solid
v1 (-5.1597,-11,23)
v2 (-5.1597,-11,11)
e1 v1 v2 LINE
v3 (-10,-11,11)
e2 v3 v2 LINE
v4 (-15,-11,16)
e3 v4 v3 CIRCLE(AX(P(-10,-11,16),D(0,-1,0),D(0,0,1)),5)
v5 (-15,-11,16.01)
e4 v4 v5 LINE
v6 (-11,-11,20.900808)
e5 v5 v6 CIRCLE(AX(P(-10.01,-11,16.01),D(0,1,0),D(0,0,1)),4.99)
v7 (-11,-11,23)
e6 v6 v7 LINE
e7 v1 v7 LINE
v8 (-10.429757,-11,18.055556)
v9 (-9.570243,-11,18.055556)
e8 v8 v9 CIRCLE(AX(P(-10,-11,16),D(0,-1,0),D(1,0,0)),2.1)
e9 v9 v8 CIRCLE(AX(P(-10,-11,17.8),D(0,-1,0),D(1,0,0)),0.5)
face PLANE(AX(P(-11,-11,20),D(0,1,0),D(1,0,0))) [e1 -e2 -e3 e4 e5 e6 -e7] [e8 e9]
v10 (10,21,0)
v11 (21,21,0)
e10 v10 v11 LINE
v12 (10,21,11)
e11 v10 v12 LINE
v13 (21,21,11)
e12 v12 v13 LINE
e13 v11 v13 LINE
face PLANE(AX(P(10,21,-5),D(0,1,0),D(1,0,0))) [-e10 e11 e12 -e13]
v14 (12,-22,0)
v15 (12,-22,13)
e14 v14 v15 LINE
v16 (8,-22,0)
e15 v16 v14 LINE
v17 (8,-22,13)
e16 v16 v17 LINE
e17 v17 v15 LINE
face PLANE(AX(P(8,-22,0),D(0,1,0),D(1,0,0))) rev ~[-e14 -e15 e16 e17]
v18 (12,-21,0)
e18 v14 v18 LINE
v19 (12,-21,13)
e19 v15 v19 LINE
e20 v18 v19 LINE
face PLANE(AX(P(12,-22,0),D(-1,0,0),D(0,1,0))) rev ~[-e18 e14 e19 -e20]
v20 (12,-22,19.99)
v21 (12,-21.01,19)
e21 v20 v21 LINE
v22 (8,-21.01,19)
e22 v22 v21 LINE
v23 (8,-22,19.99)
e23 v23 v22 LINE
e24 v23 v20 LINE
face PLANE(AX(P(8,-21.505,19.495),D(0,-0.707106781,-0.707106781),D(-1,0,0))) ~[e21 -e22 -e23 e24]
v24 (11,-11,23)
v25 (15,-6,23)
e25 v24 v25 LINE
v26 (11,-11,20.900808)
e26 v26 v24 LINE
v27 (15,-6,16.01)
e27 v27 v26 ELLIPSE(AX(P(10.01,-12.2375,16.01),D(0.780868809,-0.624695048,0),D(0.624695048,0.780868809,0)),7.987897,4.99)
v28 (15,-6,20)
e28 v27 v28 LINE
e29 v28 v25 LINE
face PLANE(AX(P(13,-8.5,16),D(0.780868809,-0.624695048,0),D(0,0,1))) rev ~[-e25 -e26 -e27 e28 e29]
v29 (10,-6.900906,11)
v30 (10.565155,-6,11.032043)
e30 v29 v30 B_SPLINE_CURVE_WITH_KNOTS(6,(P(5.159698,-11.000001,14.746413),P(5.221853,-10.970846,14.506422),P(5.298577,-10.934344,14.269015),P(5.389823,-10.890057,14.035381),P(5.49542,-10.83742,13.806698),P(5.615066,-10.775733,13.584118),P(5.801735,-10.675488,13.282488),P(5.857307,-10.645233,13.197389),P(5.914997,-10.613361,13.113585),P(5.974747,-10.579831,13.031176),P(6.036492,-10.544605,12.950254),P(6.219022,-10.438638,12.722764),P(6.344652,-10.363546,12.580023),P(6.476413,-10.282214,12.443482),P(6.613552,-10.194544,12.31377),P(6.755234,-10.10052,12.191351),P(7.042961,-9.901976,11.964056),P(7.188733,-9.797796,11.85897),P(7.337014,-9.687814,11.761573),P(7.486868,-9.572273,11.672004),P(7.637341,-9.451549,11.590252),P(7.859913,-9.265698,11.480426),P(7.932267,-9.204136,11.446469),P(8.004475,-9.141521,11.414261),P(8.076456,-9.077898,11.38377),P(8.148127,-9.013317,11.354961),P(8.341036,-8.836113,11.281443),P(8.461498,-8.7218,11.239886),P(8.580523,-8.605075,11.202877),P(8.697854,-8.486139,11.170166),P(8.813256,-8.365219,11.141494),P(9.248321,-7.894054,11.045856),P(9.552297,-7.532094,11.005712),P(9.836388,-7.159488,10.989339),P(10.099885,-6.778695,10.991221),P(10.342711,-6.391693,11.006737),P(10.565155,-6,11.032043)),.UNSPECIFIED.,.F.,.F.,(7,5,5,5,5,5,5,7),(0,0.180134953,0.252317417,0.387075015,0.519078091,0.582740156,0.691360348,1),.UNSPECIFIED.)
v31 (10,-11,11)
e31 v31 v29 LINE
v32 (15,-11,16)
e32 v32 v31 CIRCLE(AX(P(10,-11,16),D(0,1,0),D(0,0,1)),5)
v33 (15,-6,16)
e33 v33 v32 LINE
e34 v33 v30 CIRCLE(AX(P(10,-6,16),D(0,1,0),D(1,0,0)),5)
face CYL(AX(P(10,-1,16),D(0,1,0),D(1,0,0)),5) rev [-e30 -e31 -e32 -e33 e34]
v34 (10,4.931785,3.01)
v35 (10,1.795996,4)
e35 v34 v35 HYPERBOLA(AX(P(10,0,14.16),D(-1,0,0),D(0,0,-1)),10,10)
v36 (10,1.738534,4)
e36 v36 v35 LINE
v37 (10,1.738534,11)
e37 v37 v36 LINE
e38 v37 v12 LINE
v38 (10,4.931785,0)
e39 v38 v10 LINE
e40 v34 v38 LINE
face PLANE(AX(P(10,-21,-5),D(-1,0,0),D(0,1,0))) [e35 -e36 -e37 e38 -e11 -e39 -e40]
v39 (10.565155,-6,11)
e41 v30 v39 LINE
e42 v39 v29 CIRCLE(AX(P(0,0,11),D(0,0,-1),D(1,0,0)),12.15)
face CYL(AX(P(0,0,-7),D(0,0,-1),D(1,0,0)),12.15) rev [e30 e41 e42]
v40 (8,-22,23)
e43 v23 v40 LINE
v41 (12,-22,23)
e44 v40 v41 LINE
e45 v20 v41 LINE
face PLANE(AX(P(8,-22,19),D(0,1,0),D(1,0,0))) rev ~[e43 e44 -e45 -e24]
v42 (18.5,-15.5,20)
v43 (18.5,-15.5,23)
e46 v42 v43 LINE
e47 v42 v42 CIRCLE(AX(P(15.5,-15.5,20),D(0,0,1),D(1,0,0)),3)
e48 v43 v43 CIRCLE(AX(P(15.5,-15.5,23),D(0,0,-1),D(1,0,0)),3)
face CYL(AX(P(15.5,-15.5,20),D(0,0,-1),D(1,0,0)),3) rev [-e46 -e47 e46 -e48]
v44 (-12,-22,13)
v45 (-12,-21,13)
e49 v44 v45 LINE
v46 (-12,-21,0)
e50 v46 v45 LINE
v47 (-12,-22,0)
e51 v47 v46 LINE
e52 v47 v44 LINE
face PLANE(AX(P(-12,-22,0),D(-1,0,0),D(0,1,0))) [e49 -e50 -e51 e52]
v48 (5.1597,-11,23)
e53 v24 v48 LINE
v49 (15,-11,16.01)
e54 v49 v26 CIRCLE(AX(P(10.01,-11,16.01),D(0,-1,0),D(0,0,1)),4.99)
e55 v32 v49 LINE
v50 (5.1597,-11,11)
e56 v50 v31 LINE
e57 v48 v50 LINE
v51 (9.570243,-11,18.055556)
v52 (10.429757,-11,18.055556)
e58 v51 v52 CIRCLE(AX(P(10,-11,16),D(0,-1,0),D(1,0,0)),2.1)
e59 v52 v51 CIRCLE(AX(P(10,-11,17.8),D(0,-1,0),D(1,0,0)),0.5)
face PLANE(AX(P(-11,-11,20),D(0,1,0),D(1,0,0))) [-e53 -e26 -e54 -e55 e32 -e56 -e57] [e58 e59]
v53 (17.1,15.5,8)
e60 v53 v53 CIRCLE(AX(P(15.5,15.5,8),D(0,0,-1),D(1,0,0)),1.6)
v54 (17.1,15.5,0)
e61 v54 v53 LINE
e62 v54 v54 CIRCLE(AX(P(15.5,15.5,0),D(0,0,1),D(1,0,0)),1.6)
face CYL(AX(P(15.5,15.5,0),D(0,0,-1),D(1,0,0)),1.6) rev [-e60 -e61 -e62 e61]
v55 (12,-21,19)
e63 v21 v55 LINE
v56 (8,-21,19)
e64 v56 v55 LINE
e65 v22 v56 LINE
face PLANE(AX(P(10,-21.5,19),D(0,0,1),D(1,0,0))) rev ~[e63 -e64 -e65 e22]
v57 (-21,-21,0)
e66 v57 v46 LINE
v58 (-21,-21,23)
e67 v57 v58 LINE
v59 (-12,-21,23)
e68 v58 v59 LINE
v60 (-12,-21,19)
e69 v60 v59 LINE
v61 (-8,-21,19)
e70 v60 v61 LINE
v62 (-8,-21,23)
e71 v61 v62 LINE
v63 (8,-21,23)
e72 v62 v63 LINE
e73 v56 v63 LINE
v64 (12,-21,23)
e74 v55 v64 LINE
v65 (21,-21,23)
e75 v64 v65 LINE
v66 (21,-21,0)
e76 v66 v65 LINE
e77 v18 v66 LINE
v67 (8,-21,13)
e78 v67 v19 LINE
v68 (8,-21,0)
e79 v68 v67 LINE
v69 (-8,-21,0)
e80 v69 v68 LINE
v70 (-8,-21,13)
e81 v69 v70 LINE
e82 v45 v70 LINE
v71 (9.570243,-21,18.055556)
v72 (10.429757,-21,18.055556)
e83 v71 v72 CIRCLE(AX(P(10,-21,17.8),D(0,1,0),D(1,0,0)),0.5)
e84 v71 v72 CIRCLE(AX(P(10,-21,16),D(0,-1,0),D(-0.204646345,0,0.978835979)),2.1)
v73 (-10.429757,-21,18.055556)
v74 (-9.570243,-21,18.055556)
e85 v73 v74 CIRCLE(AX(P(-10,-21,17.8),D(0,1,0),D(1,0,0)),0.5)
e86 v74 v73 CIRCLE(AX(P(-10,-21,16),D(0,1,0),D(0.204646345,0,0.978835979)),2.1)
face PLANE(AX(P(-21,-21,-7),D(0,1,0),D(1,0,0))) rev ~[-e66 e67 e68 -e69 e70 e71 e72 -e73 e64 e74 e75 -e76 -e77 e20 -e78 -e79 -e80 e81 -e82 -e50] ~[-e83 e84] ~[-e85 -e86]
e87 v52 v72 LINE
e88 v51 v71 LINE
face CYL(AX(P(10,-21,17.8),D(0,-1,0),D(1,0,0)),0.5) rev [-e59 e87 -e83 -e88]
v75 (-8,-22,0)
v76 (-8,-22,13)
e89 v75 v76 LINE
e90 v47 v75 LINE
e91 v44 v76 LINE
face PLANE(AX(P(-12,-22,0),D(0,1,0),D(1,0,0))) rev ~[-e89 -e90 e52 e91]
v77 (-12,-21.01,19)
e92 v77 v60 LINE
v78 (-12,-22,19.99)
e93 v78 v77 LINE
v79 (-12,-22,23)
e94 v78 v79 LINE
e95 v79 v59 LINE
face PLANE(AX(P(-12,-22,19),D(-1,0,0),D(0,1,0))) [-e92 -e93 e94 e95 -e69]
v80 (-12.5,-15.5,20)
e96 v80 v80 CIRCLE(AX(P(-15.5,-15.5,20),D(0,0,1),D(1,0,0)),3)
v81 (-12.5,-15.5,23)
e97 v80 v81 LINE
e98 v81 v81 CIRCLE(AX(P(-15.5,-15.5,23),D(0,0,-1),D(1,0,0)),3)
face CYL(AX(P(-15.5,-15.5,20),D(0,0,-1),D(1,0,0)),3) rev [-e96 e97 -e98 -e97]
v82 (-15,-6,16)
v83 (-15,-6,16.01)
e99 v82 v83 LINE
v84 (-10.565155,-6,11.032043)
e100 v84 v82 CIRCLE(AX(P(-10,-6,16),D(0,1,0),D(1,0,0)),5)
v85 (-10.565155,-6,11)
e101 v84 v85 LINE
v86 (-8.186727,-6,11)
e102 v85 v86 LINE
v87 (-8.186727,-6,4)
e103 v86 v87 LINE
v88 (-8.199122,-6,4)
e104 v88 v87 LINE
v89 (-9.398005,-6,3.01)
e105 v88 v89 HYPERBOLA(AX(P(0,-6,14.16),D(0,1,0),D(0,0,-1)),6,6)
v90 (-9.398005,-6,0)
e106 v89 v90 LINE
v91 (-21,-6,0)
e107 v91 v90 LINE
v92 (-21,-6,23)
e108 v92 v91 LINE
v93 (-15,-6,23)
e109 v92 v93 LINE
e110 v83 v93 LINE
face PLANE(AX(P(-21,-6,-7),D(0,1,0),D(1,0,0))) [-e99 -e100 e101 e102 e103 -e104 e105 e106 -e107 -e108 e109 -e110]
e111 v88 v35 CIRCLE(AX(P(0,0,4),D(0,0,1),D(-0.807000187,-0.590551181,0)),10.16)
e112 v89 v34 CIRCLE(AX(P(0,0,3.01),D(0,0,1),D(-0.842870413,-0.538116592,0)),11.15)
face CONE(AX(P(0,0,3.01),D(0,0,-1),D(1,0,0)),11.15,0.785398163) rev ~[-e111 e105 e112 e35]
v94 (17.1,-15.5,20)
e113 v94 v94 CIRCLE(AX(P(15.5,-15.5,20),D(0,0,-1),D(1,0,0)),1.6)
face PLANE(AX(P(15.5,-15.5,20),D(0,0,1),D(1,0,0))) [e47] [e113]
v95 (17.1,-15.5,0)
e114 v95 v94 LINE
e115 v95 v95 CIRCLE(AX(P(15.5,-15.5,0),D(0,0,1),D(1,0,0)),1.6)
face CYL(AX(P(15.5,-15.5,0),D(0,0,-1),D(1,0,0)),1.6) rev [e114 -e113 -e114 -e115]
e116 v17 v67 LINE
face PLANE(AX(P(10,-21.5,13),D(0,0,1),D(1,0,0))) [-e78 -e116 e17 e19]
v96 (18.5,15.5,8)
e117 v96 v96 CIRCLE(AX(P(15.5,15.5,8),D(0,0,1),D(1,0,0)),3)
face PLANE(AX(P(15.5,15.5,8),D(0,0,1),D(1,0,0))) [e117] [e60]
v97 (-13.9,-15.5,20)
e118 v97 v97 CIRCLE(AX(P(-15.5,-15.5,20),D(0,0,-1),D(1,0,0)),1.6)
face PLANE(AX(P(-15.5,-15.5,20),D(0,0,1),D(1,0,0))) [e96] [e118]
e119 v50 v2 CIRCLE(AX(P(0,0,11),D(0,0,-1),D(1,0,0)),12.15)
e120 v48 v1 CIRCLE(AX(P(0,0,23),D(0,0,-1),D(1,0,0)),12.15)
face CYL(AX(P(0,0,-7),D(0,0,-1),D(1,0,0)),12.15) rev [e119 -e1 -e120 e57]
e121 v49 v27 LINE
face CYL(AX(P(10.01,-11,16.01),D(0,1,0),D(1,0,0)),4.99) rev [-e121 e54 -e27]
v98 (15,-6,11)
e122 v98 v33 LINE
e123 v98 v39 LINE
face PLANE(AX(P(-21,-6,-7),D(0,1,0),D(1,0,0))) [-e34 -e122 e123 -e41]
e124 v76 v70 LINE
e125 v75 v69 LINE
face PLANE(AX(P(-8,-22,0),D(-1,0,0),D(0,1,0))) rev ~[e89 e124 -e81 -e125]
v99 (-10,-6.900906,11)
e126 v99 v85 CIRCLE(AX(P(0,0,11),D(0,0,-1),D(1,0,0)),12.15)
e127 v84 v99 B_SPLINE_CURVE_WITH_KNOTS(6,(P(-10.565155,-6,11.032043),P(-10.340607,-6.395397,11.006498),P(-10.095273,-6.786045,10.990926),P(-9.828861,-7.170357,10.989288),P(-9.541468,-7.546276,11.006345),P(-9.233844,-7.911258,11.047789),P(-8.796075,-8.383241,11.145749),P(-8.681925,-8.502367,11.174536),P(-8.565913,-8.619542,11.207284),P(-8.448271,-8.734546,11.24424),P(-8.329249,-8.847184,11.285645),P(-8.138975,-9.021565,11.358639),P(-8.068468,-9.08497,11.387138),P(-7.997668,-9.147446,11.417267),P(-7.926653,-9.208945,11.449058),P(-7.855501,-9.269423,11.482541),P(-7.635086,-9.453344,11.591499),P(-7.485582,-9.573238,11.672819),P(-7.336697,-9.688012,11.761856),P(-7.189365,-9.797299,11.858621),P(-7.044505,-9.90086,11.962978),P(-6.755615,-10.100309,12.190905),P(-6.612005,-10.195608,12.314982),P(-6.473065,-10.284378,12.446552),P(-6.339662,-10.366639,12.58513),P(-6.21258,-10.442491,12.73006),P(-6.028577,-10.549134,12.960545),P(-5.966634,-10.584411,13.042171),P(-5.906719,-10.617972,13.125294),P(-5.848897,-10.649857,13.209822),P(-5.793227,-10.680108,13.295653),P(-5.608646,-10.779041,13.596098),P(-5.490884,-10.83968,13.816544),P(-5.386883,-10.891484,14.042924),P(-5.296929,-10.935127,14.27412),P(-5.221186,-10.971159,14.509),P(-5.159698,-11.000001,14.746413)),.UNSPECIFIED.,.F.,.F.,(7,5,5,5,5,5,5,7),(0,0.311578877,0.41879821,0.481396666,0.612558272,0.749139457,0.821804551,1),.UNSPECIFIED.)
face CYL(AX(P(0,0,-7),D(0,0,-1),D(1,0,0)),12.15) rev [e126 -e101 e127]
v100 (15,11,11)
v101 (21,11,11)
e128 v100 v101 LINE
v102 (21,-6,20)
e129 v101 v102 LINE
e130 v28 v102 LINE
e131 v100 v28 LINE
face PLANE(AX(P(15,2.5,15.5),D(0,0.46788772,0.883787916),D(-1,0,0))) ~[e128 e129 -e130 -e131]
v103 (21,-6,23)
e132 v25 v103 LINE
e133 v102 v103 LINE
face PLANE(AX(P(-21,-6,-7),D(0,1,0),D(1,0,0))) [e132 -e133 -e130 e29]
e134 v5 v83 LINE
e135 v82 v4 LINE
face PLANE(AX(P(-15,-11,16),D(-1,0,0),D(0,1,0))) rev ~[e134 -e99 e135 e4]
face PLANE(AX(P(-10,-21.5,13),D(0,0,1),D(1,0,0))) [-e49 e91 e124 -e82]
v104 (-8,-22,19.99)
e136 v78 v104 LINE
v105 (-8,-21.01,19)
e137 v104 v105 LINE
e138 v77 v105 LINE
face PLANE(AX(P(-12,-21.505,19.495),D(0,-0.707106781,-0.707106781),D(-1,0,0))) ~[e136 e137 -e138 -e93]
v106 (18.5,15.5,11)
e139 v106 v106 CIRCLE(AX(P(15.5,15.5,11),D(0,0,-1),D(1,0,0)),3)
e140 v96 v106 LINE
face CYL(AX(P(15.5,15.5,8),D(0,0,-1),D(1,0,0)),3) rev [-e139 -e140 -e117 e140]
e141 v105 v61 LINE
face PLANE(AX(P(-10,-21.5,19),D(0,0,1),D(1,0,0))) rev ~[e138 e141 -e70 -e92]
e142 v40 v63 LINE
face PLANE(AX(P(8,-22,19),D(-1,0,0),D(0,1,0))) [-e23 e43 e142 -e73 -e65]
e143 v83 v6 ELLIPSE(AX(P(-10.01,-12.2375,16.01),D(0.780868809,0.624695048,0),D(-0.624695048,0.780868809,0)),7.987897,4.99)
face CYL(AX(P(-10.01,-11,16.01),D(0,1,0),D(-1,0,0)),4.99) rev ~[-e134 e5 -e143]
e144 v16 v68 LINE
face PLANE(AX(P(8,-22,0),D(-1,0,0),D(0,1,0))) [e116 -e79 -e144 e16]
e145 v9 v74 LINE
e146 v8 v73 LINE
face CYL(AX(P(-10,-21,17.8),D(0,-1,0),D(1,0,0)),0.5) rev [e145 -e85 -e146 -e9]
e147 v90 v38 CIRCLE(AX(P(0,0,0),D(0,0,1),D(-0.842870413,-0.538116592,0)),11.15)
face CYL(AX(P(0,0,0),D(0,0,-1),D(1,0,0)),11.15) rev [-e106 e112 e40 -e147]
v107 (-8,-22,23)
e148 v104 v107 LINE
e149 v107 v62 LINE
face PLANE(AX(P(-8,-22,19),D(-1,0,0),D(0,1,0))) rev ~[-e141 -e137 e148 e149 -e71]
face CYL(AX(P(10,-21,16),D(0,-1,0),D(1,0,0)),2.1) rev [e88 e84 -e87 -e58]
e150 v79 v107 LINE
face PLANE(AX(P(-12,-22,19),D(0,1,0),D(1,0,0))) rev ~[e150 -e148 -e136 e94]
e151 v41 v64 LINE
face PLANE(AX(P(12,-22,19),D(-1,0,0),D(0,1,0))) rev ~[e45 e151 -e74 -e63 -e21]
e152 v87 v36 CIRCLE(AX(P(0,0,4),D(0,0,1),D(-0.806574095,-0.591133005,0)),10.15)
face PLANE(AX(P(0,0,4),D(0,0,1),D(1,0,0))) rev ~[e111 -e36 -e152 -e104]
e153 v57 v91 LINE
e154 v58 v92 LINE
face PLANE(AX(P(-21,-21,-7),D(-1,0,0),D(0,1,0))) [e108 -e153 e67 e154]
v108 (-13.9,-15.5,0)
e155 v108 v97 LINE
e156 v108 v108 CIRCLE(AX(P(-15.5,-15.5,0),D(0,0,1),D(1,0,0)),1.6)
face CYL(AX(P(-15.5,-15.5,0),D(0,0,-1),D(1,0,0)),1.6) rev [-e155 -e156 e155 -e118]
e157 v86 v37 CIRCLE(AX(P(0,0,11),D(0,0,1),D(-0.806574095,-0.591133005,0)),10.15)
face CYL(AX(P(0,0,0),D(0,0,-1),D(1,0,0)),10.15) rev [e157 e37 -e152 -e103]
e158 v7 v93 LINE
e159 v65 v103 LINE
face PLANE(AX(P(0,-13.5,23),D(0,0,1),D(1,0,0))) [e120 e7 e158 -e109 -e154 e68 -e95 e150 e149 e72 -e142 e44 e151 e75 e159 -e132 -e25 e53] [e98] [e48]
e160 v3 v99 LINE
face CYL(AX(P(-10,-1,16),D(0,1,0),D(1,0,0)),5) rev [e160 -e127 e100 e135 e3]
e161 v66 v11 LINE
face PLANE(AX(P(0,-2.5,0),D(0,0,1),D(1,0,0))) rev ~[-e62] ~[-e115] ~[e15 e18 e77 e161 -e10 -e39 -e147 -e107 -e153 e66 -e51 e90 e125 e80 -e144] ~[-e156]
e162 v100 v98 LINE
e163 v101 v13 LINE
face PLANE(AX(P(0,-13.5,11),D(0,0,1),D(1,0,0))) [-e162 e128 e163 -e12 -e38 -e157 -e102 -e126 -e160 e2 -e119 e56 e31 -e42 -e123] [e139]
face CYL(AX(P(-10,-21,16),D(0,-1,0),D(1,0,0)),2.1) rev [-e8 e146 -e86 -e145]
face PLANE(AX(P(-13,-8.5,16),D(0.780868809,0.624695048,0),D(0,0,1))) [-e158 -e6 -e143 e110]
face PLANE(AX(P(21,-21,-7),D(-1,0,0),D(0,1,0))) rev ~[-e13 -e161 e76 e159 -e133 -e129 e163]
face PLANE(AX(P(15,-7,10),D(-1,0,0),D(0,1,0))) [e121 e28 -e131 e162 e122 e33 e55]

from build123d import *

# Parameters (mm, degrees)
BOX009_W            = 3
BOX009_H            = 10
BOX009_DEPTH        = 7
BOX010_W            = 3
BOX010_H            = 10
BOX010_DEPTH        = 7
BOX011_W            = 7
BOX011_H            = 10
BOX011_DEPTH        = 6
BOX012_W            = 7
BOX012_H            = 10
BOX012_DEPTH        = 6
BOX008_W            = 30
BOX008_H            = 10
BOX008_DEPTH        = 16
FILLET_R            = 5
FILLET001_R         = 4.99
BOX022_W            = 10
BOX022_H            = 10
BOX022_DEPTH        = 10
CHAMFER002011_SIZE2 = 4
CHAMFER002011_SIZE  = 5
BOX021_W            = 10
BOX021_H            = 10
BOX021_DEPTH        = 10
CHAMFER002010_SIZE2 = 4
CHAMFER002010_SIZE  = 5
CYLINDER030_R       = 2.1
CYLINDER030_DEPTH   = 20
CYLINDER032_R       = 0.5
CYLINDER032_DEPTH   = 20
CYLINDER031_R       = 2.1
CYLINDER031_DEPTH   = 20
CYLINDER033_R       = 0.5
CYLINDER033_DEPTH   = 20
CYLINDER028_R       = 0.5
CYLINDER028_DEPTH   = 10
CYLINDER014_R       = 5
CYLINDER014_DEPTH   = 10
CYLINDER029_R       = 0.5
CYLINDER029_DEPTH   = 10
CYLINDER012_R       = 5
CYLINDER012_DEPTH   = 10
CYLINDER007_R       = 1.6
CYLINDER007_DEPTH   = 40
CYLINDER008_R       = 1.6
CYLINDER008_DEPTH   = 40
CYLINDER006_R       = 1.6
CYLINDER006_DEPTH   = 40
CYLINDER003_R       = 3
CYLINDER003_DEPTH   = 5
CYLINDER001_R       = 3
CYLINDER001_DEPTH   = 5
CYLINDER002_R       = 3
CYLINDER002_DEPTH   = 5
CYLINDER_R          = 11.15
CYLINDER_DEPTH      = 4
CYLINDER023_R       = 10.15
CYLINDER023_DEPTH   = 30
CHAMFER002003_SIZE  = 0.99
BOX007_W            = 42
BOX007_H            = 47
BOX007_DEPTH        = 7
CYLINDER024_R       = 12.15
CYLINDER024_DEPTH   = 39
BOX001_W            = 42
BOX001_H            = 15
BOX001_DEPTH        = 30
BOX003_W            = 42
BOX003_H            = 15
BOX003_DEPTH        = 16
BOX002_W            = 11
BOX002_H            = 42
BOX002_DEPTH        = 16
CHAMFER_SIZE        = 5
BOX020_W            = 6
BOX020_H            = 18
BOX020_DEPTH        = 10
CHAMFER002012_SIZE2 = 17
CHAMFER002012_SIZE  = 9
BOX015_W            = 4
BOX015_H            = 1
BOX015_DEPTH        = 13
BOX017_W            = 4
BOX017_H            = 1
BOX017_DEPTH        = 4
CHAMFER002006_SIZE  = 0.99
BOX016_W            = 4
BOX016_H            = 1
BOX016_DEPTH        = 4
CHAMFER002007_SIZE  = 0.99
BOX014_W            = 4
BOX014_H            = 1
BOX014_DEPTH        = 13


with BuildPart() as cube009:
    # Box009 → Box009 (new body)
    with BuildSketch(Plane(origin=(-11, -11, 27), x_dir=(1, 0, 0), z_dir=(0, 0, 1))):
        with Locations((1.5, 5)):
            Rectangle(BOX009_W, BOX009_H)
    extrude(amount=BOX009_DEPTH)


with BuildPart() as cube010:
    # Box010 → Box010 (new body)
    with BuildSketch(Plane(origin=(8, -11, 27), x_dir=(1, 0, 0), z_dir=(0, 0, 1))):
        with Locations((1.5, 5)):
            Rectangle(BOX010_W, BOX010_H)
    extrude(amount=BOX010_DEPTH)


with BuildPart() as cube011:
    # Box011 → Box011 (new body)
    with BuildSketch(Plane(origin=(8, -11, 28), x_dir=(1, 0, 0), z_dir=(0, 0, 1))):
        with Locations((3.5, 5)):
            Rectangle(BOX011_W, BOX011_H)
    extrude(amount=BOX011_DEPTH)


with BuildPart() as fusion005013:
    # Box012 → Box012 (new body)
    with BuildSketch(Plane(origin=(-15, -11, 28), x_dir=(1, 0, 0), z_dir=(0, 0, 1))):
        with Locations((3.5, 5)):
            Rectangle(BOX012_W, BOX012_H)
    extrude(amount=BOX012_DEPTH)

    # Fusion005013: union Cube011
    add(cube011.part)


with BuildPart() as fusion005014:
    # Box008 → Box008 (new body)
    with BuildSketch(Plane(origin=(-15, -11, 18), x_dir=(1, 0, 0), z_dir=(0, 0, 1))):
        with Locations((15, 5)):
            Rectangle(BOX008_W, BOX008_H)
    extrude(amount=BOX008_DEPTH)

    # Fillet
    fillet_edges = [fusion005014.edges().sort_by_distance(p)[0] for p in [
        (-15, -6, 18),
        (15, -6, 18),
    ]]
    fillet(fillet_edges, radius=FILLET_R)

    # Cut007: cut Fusion005013
    add(fusion005013.part, mode=Mode.SUBTRACT)

    # Fillet001
    fillet001_edges = [fusion005014.edges().sort_by_distance(p)[0] for p in [
        (-15, -6, 28),
        (15, -6, 28),
    ]]
    fillet(fillet001_edges, radius=FILLET001_R)

    # Fusion005014: union Cube009, Cube010
    add(cube009.part)
    add(cube010.part)


with BuildPart() as fusion005014_1:
    # Fusion005014 placement: moved
    add(fusion005014.part.moved(Location((0, 0, -7))))


with BuildPart() as chamfer002011:
    # Box022 → Box022 (new body)
    with BuildSketch(Plane(origin=(-15, -11, 16), x_dir=(1, 0, 0), z_dir=(0, 0, 1))):
        with Locations((5, 5)):
            Rectangle(BOX022_W, BOX022_H)
    extrude(amount=BOX022_DEPTH)

    # Chamfer002011
    chamfer002011_edges = [chamfer002011.edges().sort_by_distance(p)[0] for p in [
        (-15, -11, 21),
    ]]
    chamfer002011_side = chamfer002011.faces().sort_by_distance((-15, -6, 21))[0]
    chamfer(chamfer002011_edges, length=CHAMFER002011_SIZE, length2=CHAMFER002011_SIZE2, reference=chamfer002011_side)


with BuildPart() as fusion005018006005:
    # Box021 → Box021 (new body)
    with BuildSketch(Plane(origin=(5, -11, 16), x_dir=(1, 0, 0), z_dir=(0, 0, 1))):
        with Locations((5, 5)):
            Rectangle(BOX021_W, BOX021_H)
    extrude(amount=BOX021_DEPTH)

    # Chamfer002010
    chamfer002010_edges = [fusion005018006005.edges().sort_by_distance(p)[0] for p in [
        (15, -11, 21),
    ]]
    chamfer002010_side = fusion005018006005.faces().sort_by_distance((15, -6, 21))[0]
    chamfer(chamfer002010_edges, length=CHAMFER002010_SIZE, length2=CHAMFER002010_SIZE2, reference=chamfer002010_side)

    # Fusion005018006002: union Chamfer002011
    add(chamfer002011.part)

    # Fusion005018006005: union Fusion005014
    add(fusion005014_1.part)


with BuildPart() as cylinder030:
    # Cylinder030 → Cylinder030 (new body)
    with BuildSketch(Plane(origin=(10, -21, 18), x_dir=(1, 0, 0), z_dir=(0, 1, 0))):
        Circle(CYLINDER030_R)
    extrude(amount=CYLINDER030_DEPTH)


with BuildPart() as cylinder032:
    # Cylinder032 → Cylinder032 (new body)
    with BuildSketch(Plane(origin=(10, -21, 19.8), x_dir=(1, 0, 0), z_dir=(0, 1, 0))):
        Circle(CYLINDER032_R)
    extrude(amount=CYLINDER032_DEPTH)


with BuildPart() as cylinder031:
    # Cylinder031 → Cylinder031 (new body)
    with BuildSketch(Plane(origin=(-10, -21, 18), x_dir=(1, 0, 0), z_dir=(0, 1, 0))):
        Circle(CYLINDER031_R)
    extrude(amount=CYLINDER031_DEPTH)


with BuildPart() as fusion005016:
    # Cylinder033 → Cylinder033 (new body)
    with BuildSketch(Plane(origin=(-10, -21, 19.8), x_dir=(1, 0, 0), z_dir=(0, 1, 0))):
        Circle(CYLINDER033_R)
    extrude(amount=CYLINDER033_DEPTH)

    # Fusion005016: union Cylinder030, Cylinder032, Cylinder031
    add(cylinder030.part)
    add(cylinder032.part)
    add(cylinder031.part)


with BuildPart() as fusion005016_1:
    # Fusion005016 placement: moved
    add(fusion005016.part.moved(Location((0, 0, -2))))


with BuildPart() as cylinder028:
    # Cylinder028 → Cylinder028 (new body)
    with BuildSketch(Plane(origin=(10, -20, 27.7), x_dir=(1, 0, 0), z_dir=(0, 1, 0))):
        Circle(CYLINDER028_R)
    extrude(amount=CYLINDER028_DEPTH)


with BuildPart() as cylinder014:
    # Cylinder014 → Cylinder014 (new body)
    with BuildSketch(Plane(origin=(-10, -10, 23), x_dir=(1, 0, 0), z_dir=(0, -1, 0))):
        Circle(CYLINDER014_R)
    extrude(amount=CYLINDER014_DEPTH)


with BuildPart() as cylinder029:
    # Cylinder029 → Cylinder029 (new body)
    with BuildSketch(Plane(origin=(-10, -20, 27.7), x_dir=(1, 0, 0), z_dir=(0, 1, 0))):
        Circle(CYLINDER029_R)
    extrude(amount=CYLINDER029_DEPTH)


with BuildPart() as fusion005008:
    # Cylinder012 → Cylinder012 (new body)
    with BuildSketch(Plane(origin=(10, -10, 23), x_dir=(1, 0, 0), z_dir=(0, -1, 0))):
        Circle(CYLINDER012_R)
    extrude(amount=CYLINDER012_DEPTH)

    # Fusion005008: union Cylinder028, Cylinder014, Cylinder029
    add(cylinder028.part)
    add(cylinder014.part)
    add(cylinder029.part)


with BuildPart() as fusion005008_1:
    # Fusion005008 placement: moved
    add(fusion005008.part.moved(Location((0, 9, -7))))


with BuildPart() as cylinder007:
    # Cylinder007 → Cylinder007 (new body)
    with BuildSketch(Plane(origin=(15.5, -15.5, 0), x_dir=(1, 0, 0), z_dir=(0, 0, 1))):
        Circle(CYLINDER007_R)
    extrude(amount=CYLINDER007_DEPTH)


with BuildPart() as cylinder008:
    # Cylinder008 → Cylinder008 (new body)
    with BuildSketch(Plane(origin=(15.5, 15.5, 0), x_dir=(1, 0, 0), z_dir=(0, 0, 1))):
        Circle(CYLINDER008_R)
    extrude(amount=CYLINDER008_DEPTH)


with BuildPart() as fusion001:
    # Cylinder006 → Cylinder006 (new body)
    with BuildSketch(Plane(origin=(-15.5, -15.5, 0), x_dir=(1, 0, 0), z_dir=(0, 0, 1))):
        Circle(CYLINDER006_R)
    extrude(amount=CYLINDER006_DEPTH)

    # Fusion001: union Cylinder007, Cylinder008
    add(cylinder007.part)
    add(cylinder008.part)


with BuildPart() as cylinder003:
    # Cylinder003 → Cylinder003 (new body)
    with BuildSketch(Plane(origin=(15.5, -15.5, 28), x_dir=(1, 0, 0), z_dir=(0, 0, 1))):
        Circle(CYLINDER003_R)
    extrude(amount=CYLINDER003_DEPTH)


with BuildPart() as fusion005010:
    # Cylinder001 → Cylinder001 (new body)
    with BuildSketch(Plane(origin=(-15.5, -15.5, 28), x_dir=(1, 0, 0), z_dir=(0, 0, 1))):
        Circle(CYLINDER001_R)
    extrude(amount=CYLINDER001_DEPTH)

    # Fusion005010: union Cylinder003
    add(cylinder003.part)


with BuildPart() as fusion005010_1:
    # Fusion005010 placement: moved
    add(fusion005010.part.moved(Location((0, 0, -8))))


with BuildPart() as cylinder002:
    # Cylinder002 → Cylinder002 (new body)
    with BuildSketch(Plane(origin=(15.5, 15.5, 8), x_dir=(1, 0, 0), z_dir=(0, 0, 1))):
        Circle(CYLINDER002_R)
    extrude(amount=CYLINDER002_DEPTH)


with BuildPart() as cylinder:
    # Cylinder → Cylinder (new body)
    with BuildSketch(Plane.XY):
        Circle(CYLINDER_R)
    extrude(amount=CYLINDER_DEPTH)


with BuildPart() as chamfer002003:
    # Cylinder023 → Cylinder023 (new body)
    with BuildSketch(Plane.XY):
        Circle(CYLINDER023_R)
    extrude(amount=CYLINDER023_DEPTH)

    # Fusion005006: union Cylinder
    add(cylinder.part)

    # Chamfer002003
    chamfer002003_edges = [chamfer002003.edges().sort_by_distance(p)[0] for p in [
        (-11.15, 0, 4),
    ]]
    chamfer(chamfer002003_edges, length=CHAMFER002003_SIZE)


with BuildPart() as cube007:
    # Box007 → Box007 (new body)
    with BuildSketch(Plane(origin=(-21, -26, -2), x_dir=(1, 0, 0), z_dir=(0, 0, 1))):
        with Locations((21, 23.5)):
            Rectangle(BOX007_W, BOX007_H)
    extrude(amount=BOX007_DEPTH)


with BuildPart() as cylinder024:
    # Cylinder024 → Cylinder024 (new body)
    with BuildSketch(Plane.XY):
        Circle(CYLINDER024_R)
    extrude(amount=CYLINDER024_DEPTH)


with BuildPart() as cut:
    # Box001 → Box001 (new body)
    with BuildSketch(Plane(origin=(-21, -21, 0), x_dir=(1, 0, 0), z_dir=(0, 0, 1))):
        with Locations((21, 7.5)):
            Rectangle(BOX001_W, BOX001_H)
    extrude(amount=BOX001_DEPTH)

    # Cut: cut Cylinder024
    add(cylinder024.part, mode=Mode.SUBTRACT)


with BuildPart() as cut_1:
    # Cut placement: moved
    add(cut.part.moved(Location((0, 0, -2))))


with BuildPart() as cube003:
    # Box003 → Box003 (new body)
    with BuildSketch(Plane(origin=(-21, -21, 0), x_dir=(1, 0, 0), z_dir=(0, 0, 1))):
        with Locations((21, 7.5)):
            Rectangle(BOX003_W, BOX003_H)
    extrude(amount=BOX003_DEPTH)


with BuildPart() as cut015:
    # Box002 → Box002 (new body)
    with BuildSketch(Plane(origin=(10, -21, 0), x_dir=(1, 0, 0), z_dir=(0, 0, 1))):
        with Locations((5.5, 21)):
            Rectangle(BOX002_W, BOX002_H)
    extrude(amount=BOX002_DEPTH)

    # Fusion: union Cube003
    add(cube003.part)

    # Chamfer
    chamfer_edges = [cut015.edges().sort_by_distance(p)[0] for p in [
        (10, -6, 8),
    ]]
    chamfer(chamfer_edges, length=CHAMFER_SIZE)

    # Fusion005018004: union Cut
    add(cut_1.part)

    # Cut008: cut Cube007
    add(cube007.part, mode=Mode.SUBTRACT)


with BuildPart() as cut015_1:
    # Cut008 placement: moved
    add(cut015.part.moved(Location((0, 0, -5))))

    # Cut009: cut Chamfer002003
    add(chamfer002003.part, mode=Mode.SUBTRACT)

    # Cut010: cut Cylinder002
    add(cylinder002.part, mode=Mode.SUBTRACT)

    # Cut011: cut Fusion005010
    add(fusion005010_1.part, mode=Mode.SUBTRACT)

    # Cut012: cut Fusion001
    add(fusion001.part, mode=Mode.SUBTRACT)

    # Cut013: cut Fusion005008
    add(fusion005008_1.part, mode=Mode.SUBTRACT)

    # Cut014: cut Fusion005016
    add(fusion005016_1.part, mode=Mode.SUBTRACT)

    # Cut015: cut Fusion005018006005
    add(fusion005018006005.part, mode=Mode.SUBTRACT)


with BuildPart() as chamfer002012:
    # Box020 → Box020 (new body)
    with BuildSketch(Plane(origin=(15, -7, 10), x_dir=(1, 0, 0), z_dir=(0, 0, 1))):
        with Locations((3, 9)):
            Rectangle(BOX020_W, BOX020_H)
    extrude(amount=BOX020_DEPTH)

    # Chamfer002012
    chamfer002012_edges = [chamfer002012.edges().sort_by_distance(p)[0] for p in [
        (18, 11, 20),
    ]]
    chamfer002012_side = chamfer002012.faces().sort_by_distance((18, 11, 15))[0]
    chamfer(chamfer002012_edges, length=CHAMFER002012_SIZE, length2=CHAMFER002012_SIZE2, reference=chamfer002012_side)


with BuildPart() as cube015:
    # Box015 → Box015 (new body)
    with BuildSketch(Plane(origin=(-12, -22, 0), x_dir=(1, 0, 0), z_dir=(0, 0, 1))):
        with Locations((2, 0.5)):
            Rectangle(BOX015_W, BOX015_H)
    extrude(amount=BOX015_DEPTH)


with BuildPart() as chamfer002006:
    # Box017 → Box017 (new body)
    with BuildSketch(Plane(origin=(-12, -22, 21), x_dir=(1, 0, 0), z_dir=(0, 0, 1))):
        with Locations((2, 0.5)):
            Rectangle(BOX017_W, BOX017_H)
    extrude(amount=BOX017_DEPTH)

    # Chamfer002006
    chamfer002006_edges = [chamfer002006.edges().sort_by_distance(p)[0] for p in [
        (-10, -22, 21),
    ]]
    chamfer(chamfer002006_edges, length=CHAMFER002006_SIZE)


with BuildPart() as chamfer002006_1:
    # Chamfer002006 placement: moved
    add(chamfer002006.part.moved(Location((0, 0, -2))))


with BuildPart() as chamfer002007:
    # Box016 → Box016 (new body)
    with BuildSketch(Plane(origin=(8, -22, 21), x_dir=(1, 0, 0), z_dir=(0, 0, 1))):
        with Locations((2, 0.5)):
            Rectangle(BOX016_W, BOX016_H)
    extrude(amount=BOX016_DEPTH)

    # Chamfer002007
    chamfer002007_edges = [chamfer002007.edges().sort_by_distance(p)[0] for p in [
        (10, -22, 21),
    ]]
    chamfer(chamfer002007_edges, length=CHAMFER002007_SIZE)


with BuildPart() as chamfer002007_1:
    # Chamfer002007 placement: moved
    add(chamfer002007.part.moved(Location((0, 0, -2))))


with BuildPart() as fusion005018006007:
    # Box014 → Box014 (new body)
    with BuildSketch(Plane(origin=(8, -22, 0), x_dir=(1, 0, 0), z_dir=(0, 0, 1))):
        with Locations((2, 0.5)):
            Rectangle(BOX014_W, BOX014_H)
    extrude(amount=BOX014_DEPTH)

    # Fusion005018006006: union Cube015, Chamfer002006, Chamfer002007
    add(cube015.part)
    add(chamfer002006_1.part)
    add(chamfer002007_1.part)

    # Fusion005018006007: union Cut015, Chamfer002012
    add(cut015_1.part)
    add(chamfer002012.part)


solid = fusion005018006007.part
